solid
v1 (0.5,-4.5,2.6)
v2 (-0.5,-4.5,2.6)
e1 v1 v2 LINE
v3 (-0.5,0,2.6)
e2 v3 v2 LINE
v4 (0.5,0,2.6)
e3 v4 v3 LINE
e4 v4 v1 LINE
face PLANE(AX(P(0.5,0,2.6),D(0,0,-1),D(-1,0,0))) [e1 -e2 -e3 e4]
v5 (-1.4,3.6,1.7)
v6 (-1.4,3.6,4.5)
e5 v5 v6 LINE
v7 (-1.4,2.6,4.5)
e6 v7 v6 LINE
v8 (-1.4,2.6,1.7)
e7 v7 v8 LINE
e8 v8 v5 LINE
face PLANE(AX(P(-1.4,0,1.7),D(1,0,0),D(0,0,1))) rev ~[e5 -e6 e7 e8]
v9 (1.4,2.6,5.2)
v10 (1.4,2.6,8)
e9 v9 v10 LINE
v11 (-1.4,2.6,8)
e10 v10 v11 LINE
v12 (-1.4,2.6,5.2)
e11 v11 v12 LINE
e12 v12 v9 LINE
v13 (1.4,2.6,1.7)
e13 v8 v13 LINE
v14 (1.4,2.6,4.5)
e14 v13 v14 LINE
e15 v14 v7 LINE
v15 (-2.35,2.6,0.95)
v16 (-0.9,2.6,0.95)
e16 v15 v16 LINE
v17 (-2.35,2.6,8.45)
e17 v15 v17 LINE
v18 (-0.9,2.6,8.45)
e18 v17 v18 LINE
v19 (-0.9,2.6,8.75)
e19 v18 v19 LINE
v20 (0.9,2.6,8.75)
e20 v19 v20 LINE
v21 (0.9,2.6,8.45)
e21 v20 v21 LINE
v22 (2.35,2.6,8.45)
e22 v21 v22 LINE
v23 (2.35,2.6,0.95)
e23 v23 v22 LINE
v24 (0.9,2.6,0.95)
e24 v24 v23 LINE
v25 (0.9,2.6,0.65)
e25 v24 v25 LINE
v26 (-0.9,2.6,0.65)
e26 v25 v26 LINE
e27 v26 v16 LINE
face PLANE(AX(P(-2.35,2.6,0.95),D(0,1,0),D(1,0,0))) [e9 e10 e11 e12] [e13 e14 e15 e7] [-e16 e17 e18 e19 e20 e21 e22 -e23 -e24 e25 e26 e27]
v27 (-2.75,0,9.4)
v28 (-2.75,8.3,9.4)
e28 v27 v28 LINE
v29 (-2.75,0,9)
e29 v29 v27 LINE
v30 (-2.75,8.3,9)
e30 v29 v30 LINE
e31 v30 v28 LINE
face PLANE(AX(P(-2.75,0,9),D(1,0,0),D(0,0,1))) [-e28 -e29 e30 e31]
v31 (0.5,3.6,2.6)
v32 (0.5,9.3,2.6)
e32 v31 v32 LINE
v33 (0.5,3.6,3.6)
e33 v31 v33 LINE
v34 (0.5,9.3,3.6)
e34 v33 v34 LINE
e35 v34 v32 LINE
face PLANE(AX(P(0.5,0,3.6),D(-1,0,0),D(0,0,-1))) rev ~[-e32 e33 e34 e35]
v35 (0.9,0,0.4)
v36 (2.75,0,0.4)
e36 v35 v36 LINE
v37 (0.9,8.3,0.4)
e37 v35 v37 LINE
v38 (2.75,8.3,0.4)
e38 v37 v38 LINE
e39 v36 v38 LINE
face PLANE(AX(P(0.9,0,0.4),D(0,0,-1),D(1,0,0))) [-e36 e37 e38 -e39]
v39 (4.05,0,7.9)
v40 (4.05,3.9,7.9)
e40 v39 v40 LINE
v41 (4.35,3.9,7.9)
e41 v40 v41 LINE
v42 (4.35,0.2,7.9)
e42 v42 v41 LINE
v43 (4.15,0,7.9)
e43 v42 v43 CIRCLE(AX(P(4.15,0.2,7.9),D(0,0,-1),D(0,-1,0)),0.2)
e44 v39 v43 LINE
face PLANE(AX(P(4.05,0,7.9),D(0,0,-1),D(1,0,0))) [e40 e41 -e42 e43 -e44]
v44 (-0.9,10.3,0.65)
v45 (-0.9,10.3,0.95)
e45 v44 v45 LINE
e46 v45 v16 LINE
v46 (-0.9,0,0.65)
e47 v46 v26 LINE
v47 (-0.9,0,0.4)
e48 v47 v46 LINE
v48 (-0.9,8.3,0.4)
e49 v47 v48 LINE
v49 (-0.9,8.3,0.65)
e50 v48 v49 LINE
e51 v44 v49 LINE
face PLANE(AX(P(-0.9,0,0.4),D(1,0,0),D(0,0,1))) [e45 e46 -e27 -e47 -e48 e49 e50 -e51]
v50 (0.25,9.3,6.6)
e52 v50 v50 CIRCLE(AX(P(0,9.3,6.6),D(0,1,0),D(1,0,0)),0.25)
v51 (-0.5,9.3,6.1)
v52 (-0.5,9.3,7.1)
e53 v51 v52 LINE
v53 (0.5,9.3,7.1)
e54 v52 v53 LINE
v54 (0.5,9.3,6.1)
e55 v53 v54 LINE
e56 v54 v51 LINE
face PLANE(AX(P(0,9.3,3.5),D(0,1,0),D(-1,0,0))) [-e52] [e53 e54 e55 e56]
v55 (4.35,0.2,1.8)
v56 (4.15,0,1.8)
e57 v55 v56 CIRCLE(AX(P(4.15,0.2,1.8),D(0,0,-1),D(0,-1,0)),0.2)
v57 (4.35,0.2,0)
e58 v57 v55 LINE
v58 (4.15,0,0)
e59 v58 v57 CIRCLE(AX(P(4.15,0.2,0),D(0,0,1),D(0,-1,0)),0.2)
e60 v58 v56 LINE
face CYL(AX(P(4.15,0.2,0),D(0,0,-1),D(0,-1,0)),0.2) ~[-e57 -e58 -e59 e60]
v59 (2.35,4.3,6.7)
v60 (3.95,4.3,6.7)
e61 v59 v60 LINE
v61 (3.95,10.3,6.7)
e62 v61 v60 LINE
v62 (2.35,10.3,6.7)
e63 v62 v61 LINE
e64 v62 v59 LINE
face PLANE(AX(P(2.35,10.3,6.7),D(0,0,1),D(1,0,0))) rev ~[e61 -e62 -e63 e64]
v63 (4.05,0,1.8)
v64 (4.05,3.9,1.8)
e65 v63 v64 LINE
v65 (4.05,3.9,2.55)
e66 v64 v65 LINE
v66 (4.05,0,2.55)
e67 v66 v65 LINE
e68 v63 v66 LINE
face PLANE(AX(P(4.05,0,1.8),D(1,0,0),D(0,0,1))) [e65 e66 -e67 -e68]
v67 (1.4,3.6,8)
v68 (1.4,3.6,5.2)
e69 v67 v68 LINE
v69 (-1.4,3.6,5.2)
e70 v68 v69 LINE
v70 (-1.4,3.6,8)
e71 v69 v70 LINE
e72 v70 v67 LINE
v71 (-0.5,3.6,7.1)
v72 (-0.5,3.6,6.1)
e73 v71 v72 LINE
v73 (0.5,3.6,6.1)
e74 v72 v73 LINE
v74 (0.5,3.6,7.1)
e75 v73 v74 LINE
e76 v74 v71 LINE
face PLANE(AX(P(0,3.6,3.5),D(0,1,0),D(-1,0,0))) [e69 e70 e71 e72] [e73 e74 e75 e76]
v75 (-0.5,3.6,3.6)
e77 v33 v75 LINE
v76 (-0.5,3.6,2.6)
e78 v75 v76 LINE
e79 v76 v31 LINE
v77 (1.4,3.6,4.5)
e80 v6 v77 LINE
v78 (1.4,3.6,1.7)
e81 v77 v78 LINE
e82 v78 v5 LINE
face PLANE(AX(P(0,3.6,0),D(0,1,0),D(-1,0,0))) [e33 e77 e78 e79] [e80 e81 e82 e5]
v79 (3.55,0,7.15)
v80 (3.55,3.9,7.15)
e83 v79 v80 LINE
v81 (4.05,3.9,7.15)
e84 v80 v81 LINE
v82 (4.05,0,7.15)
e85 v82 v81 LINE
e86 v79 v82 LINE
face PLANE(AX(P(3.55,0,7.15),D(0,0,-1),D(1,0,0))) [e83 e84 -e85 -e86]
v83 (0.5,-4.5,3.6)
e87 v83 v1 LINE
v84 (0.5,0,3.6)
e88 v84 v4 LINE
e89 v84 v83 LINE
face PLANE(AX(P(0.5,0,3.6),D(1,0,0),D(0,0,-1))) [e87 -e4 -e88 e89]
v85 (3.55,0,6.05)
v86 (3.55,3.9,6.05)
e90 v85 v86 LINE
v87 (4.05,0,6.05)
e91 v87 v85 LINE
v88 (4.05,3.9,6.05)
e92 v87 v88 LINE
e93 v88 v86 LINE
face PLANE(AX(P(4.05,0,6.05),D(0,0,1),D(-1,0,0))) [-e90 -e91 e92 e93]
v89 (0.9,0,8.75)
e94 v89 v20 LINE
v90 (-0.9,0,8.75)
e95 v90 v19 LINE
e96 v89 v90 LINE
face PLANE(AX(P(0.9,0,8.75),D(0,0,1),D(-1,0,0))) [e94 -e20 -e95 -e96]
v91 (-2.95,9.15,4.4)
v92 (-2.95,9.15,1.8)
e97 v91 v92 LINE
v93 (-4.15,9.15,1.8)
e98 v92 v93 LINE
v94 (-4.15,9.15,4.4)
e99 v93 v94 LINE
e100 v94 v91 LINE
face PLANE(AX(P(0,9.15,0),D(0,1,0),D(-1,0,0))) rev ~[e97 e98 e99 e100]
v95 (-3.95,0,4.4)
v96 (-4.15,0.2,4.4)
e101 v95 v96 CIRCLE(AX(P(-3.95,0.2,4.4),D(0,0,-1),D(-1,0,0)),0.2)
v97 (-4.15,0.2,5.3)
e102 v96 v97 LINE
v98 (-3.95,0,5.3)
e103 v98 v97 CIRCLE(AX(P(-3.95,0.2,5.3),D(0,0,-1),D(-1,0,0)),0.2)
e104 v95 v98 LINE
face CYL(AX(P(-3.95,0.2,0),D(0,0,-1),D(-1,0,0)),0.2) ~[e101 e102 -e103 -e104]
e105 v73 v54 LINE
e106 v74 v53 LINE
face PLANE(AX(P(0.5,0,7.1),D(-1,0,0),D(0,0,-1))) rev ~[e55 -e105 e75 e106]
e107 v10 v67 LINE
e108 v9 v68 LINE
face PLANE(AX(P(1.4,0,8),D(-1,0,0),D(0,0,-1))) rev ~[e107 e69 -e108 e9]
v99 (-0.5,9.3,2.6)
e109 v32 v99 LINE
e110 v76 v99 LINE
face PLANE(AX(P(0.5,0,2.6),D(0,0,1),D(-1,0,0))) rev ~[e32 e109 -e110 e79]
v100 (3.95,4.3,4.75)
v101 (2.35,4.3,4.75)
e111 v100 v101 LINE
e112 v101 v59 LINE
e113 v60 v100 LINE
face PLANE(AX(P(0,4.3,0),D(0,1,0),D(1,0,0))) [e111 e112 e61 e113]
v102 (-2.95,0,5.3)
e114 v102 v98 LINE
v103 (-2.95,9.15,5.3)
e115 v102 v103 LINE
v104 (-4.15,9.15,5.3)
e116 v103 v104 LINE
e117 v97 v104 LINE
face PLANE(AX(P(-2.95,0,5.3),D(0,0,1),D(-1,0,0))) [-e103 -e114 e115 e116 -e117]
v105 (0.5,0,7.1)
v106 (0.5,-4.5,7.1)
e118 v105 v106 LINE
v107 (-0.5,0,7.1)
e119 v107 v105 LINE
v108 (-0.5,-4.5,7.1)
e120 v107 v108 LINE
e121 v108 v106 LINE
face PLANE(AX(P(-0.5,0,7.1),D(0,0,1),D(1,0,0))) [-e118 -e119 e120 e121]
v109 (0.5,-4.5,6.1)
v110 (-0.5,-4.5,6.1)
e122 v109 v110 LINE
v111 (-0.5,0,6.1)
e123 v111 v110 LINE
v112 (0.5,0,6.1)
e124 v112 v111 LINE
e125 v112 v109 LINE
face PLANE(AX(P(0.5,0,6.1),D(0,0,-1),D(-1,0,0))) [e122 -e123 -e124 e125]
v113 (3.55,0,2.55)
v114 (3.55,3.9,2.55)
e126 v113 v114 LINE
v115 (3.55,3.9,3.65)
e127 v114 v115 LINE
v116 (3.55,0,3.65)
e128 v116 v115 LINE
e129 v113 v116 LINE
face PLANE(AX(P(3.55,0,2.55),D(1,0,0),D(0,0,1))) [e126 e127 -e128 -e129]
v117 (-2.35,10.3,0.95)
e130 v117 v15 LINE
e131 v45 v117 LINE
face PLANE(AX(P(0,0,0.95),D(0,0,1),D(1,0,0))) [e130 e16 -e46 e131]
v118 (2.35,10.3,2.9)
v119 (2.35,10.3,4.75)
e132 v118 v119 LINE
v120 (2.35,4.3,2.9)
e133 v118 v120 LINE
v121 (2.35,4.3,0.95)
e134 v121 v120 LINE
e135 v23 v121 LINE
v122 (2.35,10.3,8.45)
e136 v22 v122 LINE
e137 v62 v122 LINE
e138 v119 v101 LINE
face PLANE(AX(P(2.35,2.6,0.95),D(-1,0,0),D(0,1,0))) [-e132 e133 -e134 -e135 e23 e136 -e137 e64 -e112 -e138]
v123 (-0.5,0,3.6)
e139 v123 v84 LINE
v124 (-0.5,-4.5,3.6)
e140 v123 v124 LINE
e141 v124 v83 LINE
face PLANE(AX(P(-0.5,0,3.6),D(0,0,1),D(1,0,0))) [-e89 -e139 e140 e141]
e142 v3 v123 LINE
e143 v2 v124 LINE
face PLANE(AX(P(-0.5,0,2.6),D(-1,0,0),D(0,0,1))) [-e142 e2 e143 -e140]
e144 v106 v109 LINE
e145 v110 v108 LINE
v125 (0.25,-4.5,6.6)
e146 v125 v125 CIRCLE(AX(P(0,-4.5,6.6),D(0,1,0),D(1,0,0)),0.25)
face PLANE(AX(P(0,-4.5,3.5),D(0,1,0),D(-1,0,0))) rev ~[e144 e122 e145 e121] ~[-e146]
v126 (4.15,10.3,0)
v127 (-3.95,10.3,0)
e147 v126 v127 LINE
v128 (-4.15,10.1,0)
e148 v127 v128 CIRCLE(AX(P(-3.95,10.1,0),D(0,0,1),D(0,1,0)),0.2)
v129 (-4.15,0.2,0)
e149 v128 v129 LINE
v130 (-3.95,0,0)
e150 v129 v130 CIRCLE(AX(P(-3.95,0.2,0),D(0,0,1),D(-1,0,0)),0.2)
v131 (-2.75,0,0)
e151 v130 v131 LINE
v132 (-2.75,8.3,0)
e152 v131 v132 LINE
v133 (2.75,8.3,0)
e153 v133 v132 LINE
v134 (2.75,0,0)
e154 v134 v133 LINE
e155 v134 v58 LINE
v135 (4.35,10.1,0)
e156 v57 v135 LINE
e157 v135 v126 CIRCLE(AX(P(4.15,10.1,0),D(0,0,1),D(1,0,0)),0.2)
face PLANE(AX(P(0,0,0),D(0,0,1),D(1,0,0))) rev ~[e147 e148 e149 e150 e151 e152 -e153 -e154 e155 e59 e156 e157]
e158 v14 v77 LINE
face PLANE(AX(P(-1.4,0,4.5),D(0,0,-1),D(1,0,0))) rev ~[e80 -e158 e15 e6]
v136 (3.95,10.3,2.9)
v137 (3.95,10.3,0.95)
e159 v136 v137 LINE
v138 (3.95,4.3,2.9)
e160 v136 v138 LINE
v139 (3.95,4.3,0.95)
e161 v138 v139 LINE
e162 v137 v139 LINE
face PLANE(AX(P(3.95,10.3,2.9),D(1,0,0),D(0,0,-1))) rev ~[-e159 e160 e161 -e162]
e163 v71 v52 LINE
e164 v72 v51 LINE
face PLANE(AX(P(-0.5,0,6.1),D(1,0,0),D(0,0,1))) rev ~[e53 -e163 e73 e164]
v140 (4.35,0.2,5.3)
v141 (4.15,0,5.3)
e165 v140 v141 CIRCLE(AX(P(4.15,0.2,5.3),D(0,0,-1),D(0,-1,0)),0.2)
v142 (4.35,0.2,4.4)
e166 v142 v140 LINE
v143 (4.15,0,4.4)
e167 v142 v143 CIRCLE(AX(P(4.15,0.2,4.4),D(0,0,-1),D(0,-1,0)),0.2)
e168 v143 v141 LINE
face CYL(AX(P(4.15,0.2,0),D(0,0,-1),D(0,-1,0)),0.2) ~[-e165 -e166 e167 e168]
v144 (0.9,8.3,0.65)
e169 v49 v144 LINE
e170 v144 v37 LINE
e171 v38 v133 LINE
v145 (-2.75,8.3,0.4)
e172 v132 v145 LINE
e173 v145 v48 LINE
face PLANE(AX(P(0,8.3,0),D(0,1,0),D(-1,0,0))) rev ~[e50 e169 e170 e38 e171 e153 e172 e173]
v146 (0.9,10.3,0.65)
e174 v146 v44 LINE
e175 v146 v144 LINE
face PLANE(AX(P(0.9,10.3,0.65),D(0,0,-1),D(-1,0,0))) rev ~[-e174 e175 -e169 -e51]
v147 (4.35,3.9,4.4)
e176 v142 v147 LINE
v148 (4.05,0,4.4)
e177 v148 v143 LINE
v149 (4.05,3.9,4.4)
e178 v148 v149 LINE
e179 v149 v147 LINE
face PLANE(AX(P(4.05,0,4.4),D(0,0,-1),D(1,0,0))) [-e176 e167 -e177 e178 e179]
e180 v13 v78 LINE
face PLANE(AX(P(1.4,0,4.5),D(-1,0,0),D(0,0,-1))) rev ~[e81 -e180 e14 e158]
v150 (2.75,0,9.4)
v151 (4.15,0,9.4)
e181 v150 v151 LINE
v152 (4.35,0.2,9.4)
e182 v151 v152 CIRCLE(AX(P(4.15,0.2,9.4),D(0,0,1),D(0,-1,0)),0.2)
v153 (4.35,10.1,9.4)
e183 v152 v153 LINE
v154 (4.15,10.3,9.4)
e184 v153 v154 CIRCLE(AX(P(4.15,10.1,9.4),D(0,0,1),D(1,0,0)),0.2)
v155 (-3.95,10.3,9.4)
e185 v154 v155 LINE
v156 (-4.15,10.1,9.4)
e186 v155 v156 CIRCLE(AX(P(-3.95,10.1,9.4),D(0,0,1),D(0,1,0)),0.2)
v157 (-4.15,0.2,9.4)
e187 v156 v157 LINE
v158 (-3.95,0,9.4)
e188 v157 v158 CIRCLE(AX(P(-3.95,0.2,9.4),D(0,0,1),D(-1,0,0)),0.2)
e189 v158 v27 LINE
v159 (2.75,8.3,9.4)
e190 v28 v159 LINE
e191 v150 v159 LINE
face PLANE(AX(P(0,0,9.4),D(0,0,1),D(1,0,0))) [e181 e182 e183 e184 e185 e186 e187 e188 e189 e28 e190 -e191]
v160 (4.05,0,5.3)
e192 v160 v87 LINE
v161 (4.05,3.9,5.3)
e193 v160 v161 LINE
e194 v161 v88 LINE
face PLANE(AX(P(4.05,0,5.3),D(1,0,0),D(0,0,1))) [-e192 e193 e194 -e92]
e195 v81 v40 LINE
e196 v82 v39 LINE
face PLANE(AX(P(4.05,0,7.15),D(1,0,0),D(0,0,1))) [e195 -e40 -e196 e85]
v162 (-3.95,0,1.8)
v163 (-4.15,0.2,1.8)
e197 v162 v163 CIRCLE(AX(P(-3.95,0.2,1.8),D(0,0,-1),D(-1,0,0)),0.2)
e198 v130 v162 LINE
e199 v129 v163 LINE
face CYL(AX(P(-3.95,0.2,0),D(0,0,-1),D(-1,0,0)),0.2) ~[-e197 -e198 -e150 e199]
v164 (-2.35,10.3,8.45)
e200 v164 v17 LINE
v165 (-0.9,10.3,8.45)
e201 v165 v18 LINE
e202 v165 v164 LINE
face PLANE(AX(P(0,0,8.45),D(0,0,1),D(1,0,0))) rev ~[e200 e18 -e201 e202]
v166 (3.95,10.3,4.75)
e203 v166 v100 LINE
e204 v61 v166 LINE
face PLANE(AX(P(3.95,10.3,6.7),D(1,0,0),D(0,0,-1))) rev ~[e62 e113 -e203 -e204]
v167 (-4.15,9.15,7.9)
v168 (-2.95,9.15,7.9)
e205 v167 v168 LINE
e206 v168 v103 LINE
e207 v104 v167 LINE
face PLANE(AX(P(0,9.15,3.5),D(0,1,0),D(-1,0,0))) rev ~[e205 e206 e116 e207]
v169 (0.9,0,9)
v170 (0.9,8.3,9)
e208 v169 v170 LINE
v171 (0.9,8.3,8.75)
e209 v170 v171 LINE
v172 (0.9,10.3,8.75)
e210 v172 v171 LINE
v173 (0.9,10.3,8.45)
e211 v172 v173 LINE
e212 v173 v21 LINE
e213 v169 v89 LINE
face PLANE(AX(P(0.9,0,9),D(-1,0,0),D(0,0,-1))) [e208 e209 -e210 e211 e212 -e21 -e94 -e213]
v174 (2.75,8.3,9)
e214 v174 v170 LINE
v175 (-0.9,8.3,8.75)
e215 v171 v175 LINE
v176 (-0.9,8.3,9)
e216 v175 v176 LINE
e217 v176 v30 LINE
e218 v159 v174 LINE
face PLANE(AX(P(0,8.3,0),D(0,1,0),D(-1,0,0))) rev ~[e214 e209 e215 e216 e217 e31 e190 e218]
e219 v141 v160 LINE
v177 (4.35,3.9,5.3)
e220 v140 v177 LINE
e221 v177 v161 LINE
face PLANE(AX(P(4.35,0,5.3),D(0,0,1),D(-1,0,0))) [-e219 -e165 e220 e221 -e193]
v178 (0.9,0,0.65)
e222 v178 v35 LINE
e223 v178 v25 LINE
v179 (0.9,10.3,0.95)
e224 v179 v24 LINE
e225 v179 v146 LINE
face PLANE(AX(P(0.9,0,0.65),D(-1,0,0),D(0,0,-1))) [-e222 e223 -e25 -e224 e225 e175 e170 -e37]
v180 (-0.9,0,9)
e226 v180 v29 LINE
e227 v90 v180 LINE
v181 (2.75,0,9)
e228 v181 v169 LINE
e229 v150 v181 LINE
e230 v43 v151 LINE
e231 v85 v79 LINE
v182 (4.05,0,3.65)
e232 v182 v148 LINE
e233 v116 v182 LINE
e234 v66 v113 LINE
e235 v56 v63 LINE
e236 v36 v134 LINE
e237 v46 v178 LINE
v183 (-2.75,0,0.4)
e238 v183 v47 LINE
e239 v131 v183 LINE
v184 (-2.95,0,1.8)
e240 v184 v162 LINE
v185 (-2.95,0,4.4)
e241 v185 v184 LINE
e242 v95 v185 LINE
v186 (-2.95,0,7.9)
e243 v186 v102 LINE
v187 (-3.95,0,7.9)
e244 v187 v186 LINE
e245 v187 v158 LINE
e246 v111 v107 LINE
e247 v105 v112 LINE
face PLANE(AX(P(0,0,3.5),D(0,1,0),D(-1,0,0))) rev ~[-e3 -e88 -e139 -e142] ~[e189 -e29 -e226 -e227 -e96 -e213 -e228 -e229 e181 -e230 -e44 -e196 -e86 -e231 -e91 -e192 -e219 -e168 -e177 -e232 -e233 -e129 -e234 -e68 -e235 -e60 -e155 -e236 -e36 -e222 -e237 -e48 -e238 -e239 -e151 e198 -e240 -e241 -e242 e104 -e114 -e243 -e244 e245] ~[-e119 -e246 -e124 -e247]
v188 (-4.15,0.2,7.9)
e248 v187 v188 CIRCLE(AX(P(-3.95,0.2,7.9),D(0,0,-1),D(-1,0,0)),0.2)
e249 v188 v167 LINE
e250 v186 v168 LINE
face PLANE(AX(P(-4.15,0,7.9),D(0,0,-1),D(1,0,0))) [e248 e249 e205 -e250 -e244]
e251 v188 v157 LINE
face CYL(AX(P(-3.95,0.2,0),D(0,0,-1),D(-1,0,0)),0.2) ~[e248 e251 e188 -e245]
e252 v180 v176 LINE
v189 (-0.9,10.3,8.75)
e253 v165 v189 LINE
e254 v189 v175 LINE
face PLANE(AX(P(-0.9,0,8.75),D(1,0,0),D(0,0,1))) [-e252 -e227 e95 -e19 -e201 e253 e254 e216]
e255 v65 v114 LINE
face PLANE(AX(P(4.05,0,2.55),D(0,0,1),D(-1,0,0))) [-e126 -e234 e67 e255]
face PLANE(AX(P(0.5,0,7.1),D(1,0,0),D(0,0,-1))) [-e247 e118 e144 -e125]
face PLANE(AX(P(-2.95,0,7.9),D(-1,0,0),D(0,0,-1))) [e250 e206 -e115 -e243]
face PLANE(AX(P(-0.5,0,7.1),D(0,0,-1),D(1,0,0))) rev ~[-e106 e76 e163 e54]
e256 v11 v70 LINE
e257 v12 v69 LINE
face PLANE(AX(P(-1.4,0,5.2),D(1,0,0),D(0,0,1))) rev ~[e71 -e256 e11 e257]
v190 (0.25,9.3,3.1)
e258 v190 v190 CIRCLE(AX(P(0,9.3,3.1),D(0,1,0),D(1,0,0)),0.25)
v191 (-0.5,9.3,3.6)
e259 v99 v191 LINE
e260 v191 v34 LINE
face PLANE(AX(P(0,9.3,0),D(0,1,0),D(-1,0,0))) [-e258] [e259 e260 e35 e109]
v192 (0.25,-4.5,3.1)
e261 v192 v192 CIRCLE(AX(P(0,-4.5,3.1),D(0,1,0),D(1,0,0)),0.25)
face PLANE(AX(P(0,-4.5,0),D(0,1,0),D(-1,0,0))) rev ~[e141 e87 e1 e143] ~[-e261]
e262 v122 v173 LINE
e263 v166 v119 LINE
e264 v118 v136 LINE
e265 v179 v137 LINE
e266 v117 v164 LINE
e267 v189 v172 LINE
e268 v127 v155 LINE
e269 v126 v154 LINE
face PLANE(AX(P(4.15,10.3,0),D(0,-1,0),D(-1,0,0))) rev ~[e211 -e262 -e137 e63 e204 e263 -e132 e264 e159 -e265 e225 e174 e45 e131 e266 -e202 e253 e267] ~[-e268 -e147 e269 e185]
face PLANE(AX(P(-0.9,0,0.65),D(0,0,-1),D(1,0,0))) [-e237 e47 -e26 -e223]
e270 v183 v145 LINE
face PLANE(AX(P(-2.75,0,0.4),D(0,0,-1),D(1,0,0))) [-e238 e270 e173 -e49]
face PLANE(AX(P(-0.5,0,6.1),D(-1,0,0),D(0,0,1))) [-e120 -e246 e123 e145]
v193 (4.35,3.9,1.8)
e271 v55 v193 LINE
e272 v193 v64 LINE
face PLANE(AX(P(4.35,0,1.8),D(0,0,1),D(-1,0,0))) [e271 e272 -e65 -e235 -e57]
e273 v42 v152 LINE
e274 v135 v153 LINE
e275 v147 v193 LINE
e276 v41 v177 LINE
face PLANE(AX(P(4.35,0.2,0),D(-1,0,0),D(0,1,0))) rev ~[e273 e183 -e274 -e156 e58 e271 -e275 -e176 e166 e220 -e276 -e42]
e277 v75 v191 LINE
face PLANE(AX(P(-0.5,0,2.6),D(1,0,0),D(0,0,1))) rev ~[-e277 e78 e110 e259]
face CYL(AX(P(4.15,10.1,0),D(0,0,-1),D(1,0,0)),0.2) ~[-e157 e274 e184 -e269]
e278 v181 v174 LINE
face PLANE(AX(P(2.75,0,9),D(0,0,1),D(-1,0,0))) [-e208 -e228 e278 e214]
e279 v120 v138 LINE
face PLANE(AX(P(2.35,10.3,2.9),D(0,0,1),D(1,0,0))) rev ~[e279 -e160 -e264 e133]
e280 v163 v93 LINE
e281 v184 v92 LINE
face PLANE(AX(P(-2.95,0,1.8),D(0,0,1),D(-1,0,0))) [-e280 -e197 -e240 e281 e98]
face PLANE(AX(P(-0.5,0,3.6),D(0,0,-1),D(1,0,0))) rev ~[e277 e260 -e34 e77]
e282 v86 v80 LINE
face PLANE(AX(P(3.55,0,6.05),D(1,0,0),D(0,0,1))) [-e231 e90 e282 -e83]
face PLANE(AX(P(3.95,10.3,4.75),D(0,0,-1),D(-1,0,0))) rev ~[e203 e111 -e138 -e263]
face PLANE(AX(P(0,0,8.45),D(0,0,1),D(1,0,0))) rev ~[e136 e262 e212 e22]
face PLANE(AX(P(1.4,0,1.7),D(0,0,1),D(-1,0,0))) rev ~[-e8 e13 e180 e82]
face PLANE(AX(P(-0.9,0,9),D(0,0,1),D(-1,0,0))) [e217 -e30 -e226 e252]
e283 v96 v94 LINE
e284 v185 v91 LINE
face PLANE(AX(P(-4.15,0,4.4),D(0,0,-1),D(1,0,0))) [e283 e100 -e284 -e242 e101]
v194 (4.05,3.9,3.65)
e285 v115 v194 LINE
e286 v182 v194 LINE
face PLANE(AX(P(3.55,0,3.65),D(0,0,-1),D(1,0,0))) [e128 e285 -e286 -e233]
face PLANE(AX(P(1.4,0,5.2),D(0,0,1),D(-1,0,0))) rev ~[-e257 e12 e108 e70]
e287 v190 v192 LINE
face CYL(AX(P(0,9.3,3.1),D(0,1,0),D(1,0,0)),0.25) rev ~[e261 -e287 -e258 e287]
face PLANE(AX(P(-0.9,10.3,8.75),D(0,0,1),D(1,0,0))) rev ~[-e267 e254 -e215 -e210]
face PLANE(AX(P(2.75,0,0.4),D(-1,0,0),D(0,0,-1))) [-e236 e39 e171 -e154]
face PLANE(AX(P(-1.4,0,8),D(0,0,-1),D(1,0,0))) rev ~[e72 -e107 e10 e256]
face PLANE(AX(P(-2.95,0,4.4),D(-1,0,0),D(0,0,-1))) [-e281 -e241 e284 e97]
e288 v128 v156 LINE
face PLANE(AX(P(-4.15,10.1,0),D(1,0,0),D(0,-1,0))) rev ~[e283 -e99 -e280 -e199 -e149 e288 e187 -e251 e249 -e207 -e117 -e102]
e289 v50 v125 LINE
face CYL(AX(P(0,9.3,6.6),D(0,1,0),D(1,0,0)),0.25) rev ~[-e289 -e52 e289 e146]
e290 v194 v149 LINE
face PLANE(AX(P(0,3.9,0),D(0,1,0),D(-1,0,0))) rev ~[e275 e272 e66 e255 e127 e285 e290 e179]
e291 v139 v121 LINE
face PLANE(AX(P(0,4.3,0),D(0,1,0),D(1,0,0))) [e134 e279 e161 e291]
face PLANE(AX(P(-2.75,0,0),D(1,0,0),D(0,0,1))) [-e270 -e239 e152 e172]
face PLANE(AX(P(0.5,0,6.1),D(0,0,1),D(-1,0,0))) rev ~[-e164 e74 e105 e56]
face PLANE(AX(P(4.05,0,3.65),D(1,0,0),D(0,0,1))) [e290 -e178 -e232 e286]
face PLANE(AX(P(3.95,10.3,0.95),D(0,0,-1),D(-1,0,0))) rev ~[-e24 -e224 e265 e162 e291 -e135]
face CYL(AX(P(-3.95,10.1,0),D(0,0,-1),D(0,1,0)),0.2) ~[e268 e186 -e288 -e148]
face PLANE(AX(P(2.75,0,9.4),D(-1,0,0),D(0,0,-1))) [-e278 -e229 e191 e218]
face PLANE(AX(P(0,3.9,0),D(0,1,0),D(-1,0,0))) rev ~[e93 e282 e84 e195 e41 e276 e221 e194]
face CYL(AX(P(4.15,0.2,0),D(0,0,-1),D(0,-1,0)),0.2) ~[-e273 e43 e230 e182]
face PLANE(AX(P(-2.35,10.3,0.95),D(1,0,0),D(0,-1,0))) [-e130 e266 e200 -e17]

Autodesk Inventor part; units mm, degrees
ref_plane "YZ Plane" through (0, 0, 0) normal (1, 0, 0) x (0, 1, 0)
ref_plane "XZ Plane" through (0, 0, 0) normal (0, 1, 0) x (-1, 0, 0)
ref_plane "XY Plane" through (0, 0, 0) normal (0, 0, 1) x (1, 0, 0)
sketch "Skizze_1" plane through (0, 0, 0) normal (0, 0, 1) x (1, 0, 0)
  arc A0 (-4.15, 0.2) -> (-3.95, 0) centre (-3.95, 0.2) ccw
  line L0 (-3.95, 0) -> (4.15, 0)
  arc A1 (4.15, 0) -> (4.35, 0.2) centre (4.15, 0.2) ccw
  line L1 (4.35, 0.2) -> (4.35, 10.1)
  arc A2 (4.35, 10.1) -> (4.15, 10.3) centre (4.15, 10.1) ccw
  line L2 (4.15, 10.3) -> (-3.95, 10.3)
  arc A3 (-3.95, 10.3) -> (-4.15, 10.1) centre (-3.95, 10.1) ccw
  line L3 (-4.15, 10.1) -> (-4.15, 0.2)
extrude "Extrusion1" add sketch "Skizze_1" along normal blind 9.4
sketch "Skizze_2" plane through (0, 0, 0.95) normal (0, 0, 1) x (1, 0, 0)
  line L0 (-2.35, 10.3) -> (-2.35, 2.6)
  line L1 (-2.35, 2.6) -> (2.35, 2.6)
  line L2 (2.35, 2.6) -> (2.35, 10.3)
  line L3 (2.35, 10.3) -> (-2.35, 10.3)
extrude "Extrusion2" cut sketch "Skizze_2" along normal blind 7.5
sketch "Skizze_3" plane through (0, 10.3, 0) normal (0, 1, 0) x (1, 0, 0)
  line L0 (-0.9, -0.95) -> (0.9, -0.95)
  line L1 (0.9, -0.95) -> (0.9, -0.65)
  line L2 (0.9, -0.65) -> (-0.9, -0.65)
  line L3 (-0.9, -0.65) -> (-0.9, -0.95)
extrude "Extrusion3" cut sketch "Skizze_3" against normal blind 7.7
sketch "Skizze_4" plane through (0, 10.3, 0) normal (0, 1, 0) x (1, 0, 0)
  line L0 (-0.9, -8.45) -> (-0.9, -8.75)
  line L1 (-0.9, -8.75) -> (0.9, -8.75)
  line L2 (0.9, -8.75) -> (0.9, -8.45)
  line L3 (0.9, -8.45) -> (-0.9, -8.45)
extrude "Extrusion4" cut sketch "Skizze_4" against normal blind 7.7
sketch "Skizze_5" plane through (0, 10.3, 0) normal (0, 1, 0) x (1, 0, 0)
  line L0 (2.35, -0.95) -> (2.35, -2.9)
  line L1 (2.35, -2.9) -> (3.95, -2.9)
  line L2 (3.95, -2.9) -> (3.95, -0.95)
  line L3 (3.95, -0.95) -> (2.35, -0.95)
extrude "Extrusion5" cut sketch "Skizze_5" against normal blind 6
sketch "Skizze_6" plane through (0, 10.3, 0) normal (0, 1, 0) x (1, 0, 0)
  line L0 (2.35, -6.7) -> (3.95, -6.7)
  line L1 (3.95, -6.7) -> (3.95, -4.75)
  line L2 (3.95, -4.75) -> (2.35, -4.75)
  line L3 (2.35, -4.75) -> (2.35, -6.7)
extrude "Extrusion6" cut sketch "Skizze_6" against normal blind 6
sketch "Skizze_7" plane through (0, 0, 0) normal (0, 1, 0) x (-1, 0, 0)
  line L0 (1.4, 1.7) -> (1.4, 4.5)
  line L1 (1.4, 4.5) -> (-1.4, 4.5)
  line L2 (-1.4, 4.5) -> (-1.4, 1.7)
  line L3 (-1.4, 1.7) -> (1.4, 1.7)
extrude "Extrusion7" add sketch "Skizze_7" along normal blind 3.6
pattern_linear "Rectangular Pattern1" count 2 spacing 3.5 along (0, 0, 1) of "Extrusion7"
sketch "Skizze_9" plane through (0, 0, 0) normal (0, 1, 0) x (-1, 0, 0)
  line L0 (0.5, 2.6) -> (0.5, 3.6)
  line L1 (0.5, 3.6) -> (-0.5, 3.6)
  line L2 (-0.5, 3.6) -> (-0.5, 2.6)
  line L3 (-0.5, 2.6) -> (0.5, 2.6)
extrude "Extrusion8" add sketch "Skizze_9" along normal blind 9.3
pattern_linear "Rectangular Pattern2" count 2 spacing 3.5 along (0, 0, 1) of "Extrusion8"
sketch "Skizze_11" plane through (0, 0, 0) normal (0, 1, 0) x (-1, 0, 0)
  line L0 (0.5, 2.6) -> (0.5, 3.6)
  line L1 (0.5, 3.6) -> (-0.5, 3.6)
  line L2 (-0.5, 3.6) -> (-0.5, 2.6)
  line L3 (-0.5, 2.6) -> (0.5, 2.6)
extrude "Extrusion9" add sketch "Skizze_11" against normal blind 4.5
pattern_linear "Rectangular Pattern3" count 2 spacing 3.5 along (0, 0, 1) of "Extrusion9"
sketch "Skizze_13" plane through (0, 0, 0) normal (0, 1, 0) x (-1, 0, 0)
  line L0 (2.75, 0) -> (2.75, 0.4)
  line L1 (2.75, 0.4) -> (0.9, 0.4)
  line L2 (0.9, 0.4) -> (0.9, 0.65)
  line L3 (0.9, 0.65) -> (-0.9, 0.65)
  line L4 (-0.9, 0.65) -> (-0.9, 0.4)
  line L5 (-0.9, 0.4) -> (-2.75, 0.4)
  line L6 (-2.75, 0.4) -> (-2.75, 0)
  line L7 (-2.75, 0) -> (2.75, 0)
extrude "Extrusion10" cut sketch "Skizze_13" along normal blind 8.3
sketch "Skizze_14" plane through (0, 0, 0) normal (0, 1, 0) x (-1, 0, 0)
  line L0 (2.75, 9.4) -> (-2.75, 9.4)
  line L1 (-2.75, 9.4) -> (-2.75, 9)
  line L2 (-2.75, 9) -> (-0.9, 9)
  line L3 (-0.9, 9) -> (-0.9, 8.75)
  line L4 (-0.9, 8.75) -> (0.9, 8.75)
  line L5 (0.9, 8.75) -> (0.9, 9)
  line L6 (0.9, 9) -> (2.75, 9)
  line L7 (2.75, 9) -> (2.75, 9.4)
extrude "Extrusion11" cut sketch "Skizze_14" along normal blind 8.3
sketch "Skizze_15" plane through (0, 0, 0) normal (0, 1, 0) x (-1, 0, 0)
  line L0 (4.15, 1.8) -> (4.15, 4.4)
  line L1 (4.15, 4.4) -> (2.95, 4.4)
  line L2 (2.95, 4.4) -> (2.95, 1.8)
  line L3 (2.95, 1.8) -> (4.15, 1.8)
extrude "Extrusion12" cut sketch "Skizze_15" along normal blind 9.15
pattern_linear "Rectangular Pattern4" count 2 spacing 3.5 along (0, 0, 1) of "Extrusion12"
sketch "Skizze_17" plane through (0, 0, 0) normal (0, 1, 0) x (-1, 0, 0)
  line L0 (-3.55, 2.55) -> (-3.55, 3.65)
  line L1 (-3.55, 3.65) -> (-4.05, 3.65)
  line L2 (-4.05, 3.65) -> (-4.05, 4.4)
  line L3 (-4.05, 4.4) -> (-4.35, 4.4)
  line L4 (-4.35, 4.4) -> (-4.35, 1.8)
  line L5 (-4.35, 1.8) -> (-4.05, 1.8)
  line L6 (-4.05, 1.8) -> (-4.05, 2.55)
  line L7 (-4.05, 2.55) -> (-3.55, 2.55)
extrude "Extrusion13" cut sketch "Skizze_17" along normal blind 3.9
sketch "Skizze_18" plane through (0, 0, 0) normal (0, 1, 0) x (-1, 0, 0)
  line L0 (-3.55, 6.05) -> (-3.55, 7.15)
  line L1 (-3.55, 7.15) -> (-4.05, 7.15)
  line L2 (-4.05, 7.15) -> (-4.05, 7.9)
  line L3 (-4.05, 7.9) -> (-4.35, 7.9)
  line L4 (-4.35, 7.9) -> (-4.35, 5.3)
  line L5 (-4.35, 5.3) -> (-4.05, 5.3)
  line L6 (-4.05, 5.3) -> (-4.05, 6.05)
  line L7 (-4.05, 6.05) -> (-3.55, 6.05)
extrude "Extrusion14" cut sketch "Skizze_18" along normal blind 3.9
sketch "Sketch15" plane through (-0.5, 9.3, 6.1) normal (0, 1, 0) x (1, 0, 0)
  line L0 (0, 0) -> (1, 0) projected
  line L1 (0, -1) -> (0, 0) projected
  line L2 (1, -1) -> (0, -1) projected
  line L3 (1, 0) -> (1, -1) projected
  line L4 (0, -1) -> (1, 0) construction
  point P0 (0.5, 6.1)
  point P1 (0.5, -0.5)
sketch "Sketch16" plane through (-0.5, 9.3, 6.1) normal (0, 1, 0) x (1, 0, 0)
  line L0 (0, 3.5) -> (1, 3.5) construction
  line L1 (0, 2.5) -> (0, 3.5) construction
  line L2 (1, 2.5) -> (0, 2.5) construction
  line L3 (1, 3.5) -> (1, 2.5) construction
  line L4 (0, 0) -> (1, 0) construction
  line L5 (0, -1) -> (0, 0) construction
  line L6 (1, -1) -> (0, -1) construction
  line L7 (1, 0) -> (1, -1) construction
  line L8 (1, -1) -> (0, 0) construction
  line L9 (1, 2.5) -> (0, 3.5) construction
  circle A0 centre (0.5, 3) radius 0.25
  circle A1 centre (0.5, -0.5) radius 0.25
  point P0 (0.5, 6.1)
  dimension "d52" = 0.5
extrude "Extrusion15" cut sketch "Sketch16" against normal through all
properties part number "Wago Power In"
